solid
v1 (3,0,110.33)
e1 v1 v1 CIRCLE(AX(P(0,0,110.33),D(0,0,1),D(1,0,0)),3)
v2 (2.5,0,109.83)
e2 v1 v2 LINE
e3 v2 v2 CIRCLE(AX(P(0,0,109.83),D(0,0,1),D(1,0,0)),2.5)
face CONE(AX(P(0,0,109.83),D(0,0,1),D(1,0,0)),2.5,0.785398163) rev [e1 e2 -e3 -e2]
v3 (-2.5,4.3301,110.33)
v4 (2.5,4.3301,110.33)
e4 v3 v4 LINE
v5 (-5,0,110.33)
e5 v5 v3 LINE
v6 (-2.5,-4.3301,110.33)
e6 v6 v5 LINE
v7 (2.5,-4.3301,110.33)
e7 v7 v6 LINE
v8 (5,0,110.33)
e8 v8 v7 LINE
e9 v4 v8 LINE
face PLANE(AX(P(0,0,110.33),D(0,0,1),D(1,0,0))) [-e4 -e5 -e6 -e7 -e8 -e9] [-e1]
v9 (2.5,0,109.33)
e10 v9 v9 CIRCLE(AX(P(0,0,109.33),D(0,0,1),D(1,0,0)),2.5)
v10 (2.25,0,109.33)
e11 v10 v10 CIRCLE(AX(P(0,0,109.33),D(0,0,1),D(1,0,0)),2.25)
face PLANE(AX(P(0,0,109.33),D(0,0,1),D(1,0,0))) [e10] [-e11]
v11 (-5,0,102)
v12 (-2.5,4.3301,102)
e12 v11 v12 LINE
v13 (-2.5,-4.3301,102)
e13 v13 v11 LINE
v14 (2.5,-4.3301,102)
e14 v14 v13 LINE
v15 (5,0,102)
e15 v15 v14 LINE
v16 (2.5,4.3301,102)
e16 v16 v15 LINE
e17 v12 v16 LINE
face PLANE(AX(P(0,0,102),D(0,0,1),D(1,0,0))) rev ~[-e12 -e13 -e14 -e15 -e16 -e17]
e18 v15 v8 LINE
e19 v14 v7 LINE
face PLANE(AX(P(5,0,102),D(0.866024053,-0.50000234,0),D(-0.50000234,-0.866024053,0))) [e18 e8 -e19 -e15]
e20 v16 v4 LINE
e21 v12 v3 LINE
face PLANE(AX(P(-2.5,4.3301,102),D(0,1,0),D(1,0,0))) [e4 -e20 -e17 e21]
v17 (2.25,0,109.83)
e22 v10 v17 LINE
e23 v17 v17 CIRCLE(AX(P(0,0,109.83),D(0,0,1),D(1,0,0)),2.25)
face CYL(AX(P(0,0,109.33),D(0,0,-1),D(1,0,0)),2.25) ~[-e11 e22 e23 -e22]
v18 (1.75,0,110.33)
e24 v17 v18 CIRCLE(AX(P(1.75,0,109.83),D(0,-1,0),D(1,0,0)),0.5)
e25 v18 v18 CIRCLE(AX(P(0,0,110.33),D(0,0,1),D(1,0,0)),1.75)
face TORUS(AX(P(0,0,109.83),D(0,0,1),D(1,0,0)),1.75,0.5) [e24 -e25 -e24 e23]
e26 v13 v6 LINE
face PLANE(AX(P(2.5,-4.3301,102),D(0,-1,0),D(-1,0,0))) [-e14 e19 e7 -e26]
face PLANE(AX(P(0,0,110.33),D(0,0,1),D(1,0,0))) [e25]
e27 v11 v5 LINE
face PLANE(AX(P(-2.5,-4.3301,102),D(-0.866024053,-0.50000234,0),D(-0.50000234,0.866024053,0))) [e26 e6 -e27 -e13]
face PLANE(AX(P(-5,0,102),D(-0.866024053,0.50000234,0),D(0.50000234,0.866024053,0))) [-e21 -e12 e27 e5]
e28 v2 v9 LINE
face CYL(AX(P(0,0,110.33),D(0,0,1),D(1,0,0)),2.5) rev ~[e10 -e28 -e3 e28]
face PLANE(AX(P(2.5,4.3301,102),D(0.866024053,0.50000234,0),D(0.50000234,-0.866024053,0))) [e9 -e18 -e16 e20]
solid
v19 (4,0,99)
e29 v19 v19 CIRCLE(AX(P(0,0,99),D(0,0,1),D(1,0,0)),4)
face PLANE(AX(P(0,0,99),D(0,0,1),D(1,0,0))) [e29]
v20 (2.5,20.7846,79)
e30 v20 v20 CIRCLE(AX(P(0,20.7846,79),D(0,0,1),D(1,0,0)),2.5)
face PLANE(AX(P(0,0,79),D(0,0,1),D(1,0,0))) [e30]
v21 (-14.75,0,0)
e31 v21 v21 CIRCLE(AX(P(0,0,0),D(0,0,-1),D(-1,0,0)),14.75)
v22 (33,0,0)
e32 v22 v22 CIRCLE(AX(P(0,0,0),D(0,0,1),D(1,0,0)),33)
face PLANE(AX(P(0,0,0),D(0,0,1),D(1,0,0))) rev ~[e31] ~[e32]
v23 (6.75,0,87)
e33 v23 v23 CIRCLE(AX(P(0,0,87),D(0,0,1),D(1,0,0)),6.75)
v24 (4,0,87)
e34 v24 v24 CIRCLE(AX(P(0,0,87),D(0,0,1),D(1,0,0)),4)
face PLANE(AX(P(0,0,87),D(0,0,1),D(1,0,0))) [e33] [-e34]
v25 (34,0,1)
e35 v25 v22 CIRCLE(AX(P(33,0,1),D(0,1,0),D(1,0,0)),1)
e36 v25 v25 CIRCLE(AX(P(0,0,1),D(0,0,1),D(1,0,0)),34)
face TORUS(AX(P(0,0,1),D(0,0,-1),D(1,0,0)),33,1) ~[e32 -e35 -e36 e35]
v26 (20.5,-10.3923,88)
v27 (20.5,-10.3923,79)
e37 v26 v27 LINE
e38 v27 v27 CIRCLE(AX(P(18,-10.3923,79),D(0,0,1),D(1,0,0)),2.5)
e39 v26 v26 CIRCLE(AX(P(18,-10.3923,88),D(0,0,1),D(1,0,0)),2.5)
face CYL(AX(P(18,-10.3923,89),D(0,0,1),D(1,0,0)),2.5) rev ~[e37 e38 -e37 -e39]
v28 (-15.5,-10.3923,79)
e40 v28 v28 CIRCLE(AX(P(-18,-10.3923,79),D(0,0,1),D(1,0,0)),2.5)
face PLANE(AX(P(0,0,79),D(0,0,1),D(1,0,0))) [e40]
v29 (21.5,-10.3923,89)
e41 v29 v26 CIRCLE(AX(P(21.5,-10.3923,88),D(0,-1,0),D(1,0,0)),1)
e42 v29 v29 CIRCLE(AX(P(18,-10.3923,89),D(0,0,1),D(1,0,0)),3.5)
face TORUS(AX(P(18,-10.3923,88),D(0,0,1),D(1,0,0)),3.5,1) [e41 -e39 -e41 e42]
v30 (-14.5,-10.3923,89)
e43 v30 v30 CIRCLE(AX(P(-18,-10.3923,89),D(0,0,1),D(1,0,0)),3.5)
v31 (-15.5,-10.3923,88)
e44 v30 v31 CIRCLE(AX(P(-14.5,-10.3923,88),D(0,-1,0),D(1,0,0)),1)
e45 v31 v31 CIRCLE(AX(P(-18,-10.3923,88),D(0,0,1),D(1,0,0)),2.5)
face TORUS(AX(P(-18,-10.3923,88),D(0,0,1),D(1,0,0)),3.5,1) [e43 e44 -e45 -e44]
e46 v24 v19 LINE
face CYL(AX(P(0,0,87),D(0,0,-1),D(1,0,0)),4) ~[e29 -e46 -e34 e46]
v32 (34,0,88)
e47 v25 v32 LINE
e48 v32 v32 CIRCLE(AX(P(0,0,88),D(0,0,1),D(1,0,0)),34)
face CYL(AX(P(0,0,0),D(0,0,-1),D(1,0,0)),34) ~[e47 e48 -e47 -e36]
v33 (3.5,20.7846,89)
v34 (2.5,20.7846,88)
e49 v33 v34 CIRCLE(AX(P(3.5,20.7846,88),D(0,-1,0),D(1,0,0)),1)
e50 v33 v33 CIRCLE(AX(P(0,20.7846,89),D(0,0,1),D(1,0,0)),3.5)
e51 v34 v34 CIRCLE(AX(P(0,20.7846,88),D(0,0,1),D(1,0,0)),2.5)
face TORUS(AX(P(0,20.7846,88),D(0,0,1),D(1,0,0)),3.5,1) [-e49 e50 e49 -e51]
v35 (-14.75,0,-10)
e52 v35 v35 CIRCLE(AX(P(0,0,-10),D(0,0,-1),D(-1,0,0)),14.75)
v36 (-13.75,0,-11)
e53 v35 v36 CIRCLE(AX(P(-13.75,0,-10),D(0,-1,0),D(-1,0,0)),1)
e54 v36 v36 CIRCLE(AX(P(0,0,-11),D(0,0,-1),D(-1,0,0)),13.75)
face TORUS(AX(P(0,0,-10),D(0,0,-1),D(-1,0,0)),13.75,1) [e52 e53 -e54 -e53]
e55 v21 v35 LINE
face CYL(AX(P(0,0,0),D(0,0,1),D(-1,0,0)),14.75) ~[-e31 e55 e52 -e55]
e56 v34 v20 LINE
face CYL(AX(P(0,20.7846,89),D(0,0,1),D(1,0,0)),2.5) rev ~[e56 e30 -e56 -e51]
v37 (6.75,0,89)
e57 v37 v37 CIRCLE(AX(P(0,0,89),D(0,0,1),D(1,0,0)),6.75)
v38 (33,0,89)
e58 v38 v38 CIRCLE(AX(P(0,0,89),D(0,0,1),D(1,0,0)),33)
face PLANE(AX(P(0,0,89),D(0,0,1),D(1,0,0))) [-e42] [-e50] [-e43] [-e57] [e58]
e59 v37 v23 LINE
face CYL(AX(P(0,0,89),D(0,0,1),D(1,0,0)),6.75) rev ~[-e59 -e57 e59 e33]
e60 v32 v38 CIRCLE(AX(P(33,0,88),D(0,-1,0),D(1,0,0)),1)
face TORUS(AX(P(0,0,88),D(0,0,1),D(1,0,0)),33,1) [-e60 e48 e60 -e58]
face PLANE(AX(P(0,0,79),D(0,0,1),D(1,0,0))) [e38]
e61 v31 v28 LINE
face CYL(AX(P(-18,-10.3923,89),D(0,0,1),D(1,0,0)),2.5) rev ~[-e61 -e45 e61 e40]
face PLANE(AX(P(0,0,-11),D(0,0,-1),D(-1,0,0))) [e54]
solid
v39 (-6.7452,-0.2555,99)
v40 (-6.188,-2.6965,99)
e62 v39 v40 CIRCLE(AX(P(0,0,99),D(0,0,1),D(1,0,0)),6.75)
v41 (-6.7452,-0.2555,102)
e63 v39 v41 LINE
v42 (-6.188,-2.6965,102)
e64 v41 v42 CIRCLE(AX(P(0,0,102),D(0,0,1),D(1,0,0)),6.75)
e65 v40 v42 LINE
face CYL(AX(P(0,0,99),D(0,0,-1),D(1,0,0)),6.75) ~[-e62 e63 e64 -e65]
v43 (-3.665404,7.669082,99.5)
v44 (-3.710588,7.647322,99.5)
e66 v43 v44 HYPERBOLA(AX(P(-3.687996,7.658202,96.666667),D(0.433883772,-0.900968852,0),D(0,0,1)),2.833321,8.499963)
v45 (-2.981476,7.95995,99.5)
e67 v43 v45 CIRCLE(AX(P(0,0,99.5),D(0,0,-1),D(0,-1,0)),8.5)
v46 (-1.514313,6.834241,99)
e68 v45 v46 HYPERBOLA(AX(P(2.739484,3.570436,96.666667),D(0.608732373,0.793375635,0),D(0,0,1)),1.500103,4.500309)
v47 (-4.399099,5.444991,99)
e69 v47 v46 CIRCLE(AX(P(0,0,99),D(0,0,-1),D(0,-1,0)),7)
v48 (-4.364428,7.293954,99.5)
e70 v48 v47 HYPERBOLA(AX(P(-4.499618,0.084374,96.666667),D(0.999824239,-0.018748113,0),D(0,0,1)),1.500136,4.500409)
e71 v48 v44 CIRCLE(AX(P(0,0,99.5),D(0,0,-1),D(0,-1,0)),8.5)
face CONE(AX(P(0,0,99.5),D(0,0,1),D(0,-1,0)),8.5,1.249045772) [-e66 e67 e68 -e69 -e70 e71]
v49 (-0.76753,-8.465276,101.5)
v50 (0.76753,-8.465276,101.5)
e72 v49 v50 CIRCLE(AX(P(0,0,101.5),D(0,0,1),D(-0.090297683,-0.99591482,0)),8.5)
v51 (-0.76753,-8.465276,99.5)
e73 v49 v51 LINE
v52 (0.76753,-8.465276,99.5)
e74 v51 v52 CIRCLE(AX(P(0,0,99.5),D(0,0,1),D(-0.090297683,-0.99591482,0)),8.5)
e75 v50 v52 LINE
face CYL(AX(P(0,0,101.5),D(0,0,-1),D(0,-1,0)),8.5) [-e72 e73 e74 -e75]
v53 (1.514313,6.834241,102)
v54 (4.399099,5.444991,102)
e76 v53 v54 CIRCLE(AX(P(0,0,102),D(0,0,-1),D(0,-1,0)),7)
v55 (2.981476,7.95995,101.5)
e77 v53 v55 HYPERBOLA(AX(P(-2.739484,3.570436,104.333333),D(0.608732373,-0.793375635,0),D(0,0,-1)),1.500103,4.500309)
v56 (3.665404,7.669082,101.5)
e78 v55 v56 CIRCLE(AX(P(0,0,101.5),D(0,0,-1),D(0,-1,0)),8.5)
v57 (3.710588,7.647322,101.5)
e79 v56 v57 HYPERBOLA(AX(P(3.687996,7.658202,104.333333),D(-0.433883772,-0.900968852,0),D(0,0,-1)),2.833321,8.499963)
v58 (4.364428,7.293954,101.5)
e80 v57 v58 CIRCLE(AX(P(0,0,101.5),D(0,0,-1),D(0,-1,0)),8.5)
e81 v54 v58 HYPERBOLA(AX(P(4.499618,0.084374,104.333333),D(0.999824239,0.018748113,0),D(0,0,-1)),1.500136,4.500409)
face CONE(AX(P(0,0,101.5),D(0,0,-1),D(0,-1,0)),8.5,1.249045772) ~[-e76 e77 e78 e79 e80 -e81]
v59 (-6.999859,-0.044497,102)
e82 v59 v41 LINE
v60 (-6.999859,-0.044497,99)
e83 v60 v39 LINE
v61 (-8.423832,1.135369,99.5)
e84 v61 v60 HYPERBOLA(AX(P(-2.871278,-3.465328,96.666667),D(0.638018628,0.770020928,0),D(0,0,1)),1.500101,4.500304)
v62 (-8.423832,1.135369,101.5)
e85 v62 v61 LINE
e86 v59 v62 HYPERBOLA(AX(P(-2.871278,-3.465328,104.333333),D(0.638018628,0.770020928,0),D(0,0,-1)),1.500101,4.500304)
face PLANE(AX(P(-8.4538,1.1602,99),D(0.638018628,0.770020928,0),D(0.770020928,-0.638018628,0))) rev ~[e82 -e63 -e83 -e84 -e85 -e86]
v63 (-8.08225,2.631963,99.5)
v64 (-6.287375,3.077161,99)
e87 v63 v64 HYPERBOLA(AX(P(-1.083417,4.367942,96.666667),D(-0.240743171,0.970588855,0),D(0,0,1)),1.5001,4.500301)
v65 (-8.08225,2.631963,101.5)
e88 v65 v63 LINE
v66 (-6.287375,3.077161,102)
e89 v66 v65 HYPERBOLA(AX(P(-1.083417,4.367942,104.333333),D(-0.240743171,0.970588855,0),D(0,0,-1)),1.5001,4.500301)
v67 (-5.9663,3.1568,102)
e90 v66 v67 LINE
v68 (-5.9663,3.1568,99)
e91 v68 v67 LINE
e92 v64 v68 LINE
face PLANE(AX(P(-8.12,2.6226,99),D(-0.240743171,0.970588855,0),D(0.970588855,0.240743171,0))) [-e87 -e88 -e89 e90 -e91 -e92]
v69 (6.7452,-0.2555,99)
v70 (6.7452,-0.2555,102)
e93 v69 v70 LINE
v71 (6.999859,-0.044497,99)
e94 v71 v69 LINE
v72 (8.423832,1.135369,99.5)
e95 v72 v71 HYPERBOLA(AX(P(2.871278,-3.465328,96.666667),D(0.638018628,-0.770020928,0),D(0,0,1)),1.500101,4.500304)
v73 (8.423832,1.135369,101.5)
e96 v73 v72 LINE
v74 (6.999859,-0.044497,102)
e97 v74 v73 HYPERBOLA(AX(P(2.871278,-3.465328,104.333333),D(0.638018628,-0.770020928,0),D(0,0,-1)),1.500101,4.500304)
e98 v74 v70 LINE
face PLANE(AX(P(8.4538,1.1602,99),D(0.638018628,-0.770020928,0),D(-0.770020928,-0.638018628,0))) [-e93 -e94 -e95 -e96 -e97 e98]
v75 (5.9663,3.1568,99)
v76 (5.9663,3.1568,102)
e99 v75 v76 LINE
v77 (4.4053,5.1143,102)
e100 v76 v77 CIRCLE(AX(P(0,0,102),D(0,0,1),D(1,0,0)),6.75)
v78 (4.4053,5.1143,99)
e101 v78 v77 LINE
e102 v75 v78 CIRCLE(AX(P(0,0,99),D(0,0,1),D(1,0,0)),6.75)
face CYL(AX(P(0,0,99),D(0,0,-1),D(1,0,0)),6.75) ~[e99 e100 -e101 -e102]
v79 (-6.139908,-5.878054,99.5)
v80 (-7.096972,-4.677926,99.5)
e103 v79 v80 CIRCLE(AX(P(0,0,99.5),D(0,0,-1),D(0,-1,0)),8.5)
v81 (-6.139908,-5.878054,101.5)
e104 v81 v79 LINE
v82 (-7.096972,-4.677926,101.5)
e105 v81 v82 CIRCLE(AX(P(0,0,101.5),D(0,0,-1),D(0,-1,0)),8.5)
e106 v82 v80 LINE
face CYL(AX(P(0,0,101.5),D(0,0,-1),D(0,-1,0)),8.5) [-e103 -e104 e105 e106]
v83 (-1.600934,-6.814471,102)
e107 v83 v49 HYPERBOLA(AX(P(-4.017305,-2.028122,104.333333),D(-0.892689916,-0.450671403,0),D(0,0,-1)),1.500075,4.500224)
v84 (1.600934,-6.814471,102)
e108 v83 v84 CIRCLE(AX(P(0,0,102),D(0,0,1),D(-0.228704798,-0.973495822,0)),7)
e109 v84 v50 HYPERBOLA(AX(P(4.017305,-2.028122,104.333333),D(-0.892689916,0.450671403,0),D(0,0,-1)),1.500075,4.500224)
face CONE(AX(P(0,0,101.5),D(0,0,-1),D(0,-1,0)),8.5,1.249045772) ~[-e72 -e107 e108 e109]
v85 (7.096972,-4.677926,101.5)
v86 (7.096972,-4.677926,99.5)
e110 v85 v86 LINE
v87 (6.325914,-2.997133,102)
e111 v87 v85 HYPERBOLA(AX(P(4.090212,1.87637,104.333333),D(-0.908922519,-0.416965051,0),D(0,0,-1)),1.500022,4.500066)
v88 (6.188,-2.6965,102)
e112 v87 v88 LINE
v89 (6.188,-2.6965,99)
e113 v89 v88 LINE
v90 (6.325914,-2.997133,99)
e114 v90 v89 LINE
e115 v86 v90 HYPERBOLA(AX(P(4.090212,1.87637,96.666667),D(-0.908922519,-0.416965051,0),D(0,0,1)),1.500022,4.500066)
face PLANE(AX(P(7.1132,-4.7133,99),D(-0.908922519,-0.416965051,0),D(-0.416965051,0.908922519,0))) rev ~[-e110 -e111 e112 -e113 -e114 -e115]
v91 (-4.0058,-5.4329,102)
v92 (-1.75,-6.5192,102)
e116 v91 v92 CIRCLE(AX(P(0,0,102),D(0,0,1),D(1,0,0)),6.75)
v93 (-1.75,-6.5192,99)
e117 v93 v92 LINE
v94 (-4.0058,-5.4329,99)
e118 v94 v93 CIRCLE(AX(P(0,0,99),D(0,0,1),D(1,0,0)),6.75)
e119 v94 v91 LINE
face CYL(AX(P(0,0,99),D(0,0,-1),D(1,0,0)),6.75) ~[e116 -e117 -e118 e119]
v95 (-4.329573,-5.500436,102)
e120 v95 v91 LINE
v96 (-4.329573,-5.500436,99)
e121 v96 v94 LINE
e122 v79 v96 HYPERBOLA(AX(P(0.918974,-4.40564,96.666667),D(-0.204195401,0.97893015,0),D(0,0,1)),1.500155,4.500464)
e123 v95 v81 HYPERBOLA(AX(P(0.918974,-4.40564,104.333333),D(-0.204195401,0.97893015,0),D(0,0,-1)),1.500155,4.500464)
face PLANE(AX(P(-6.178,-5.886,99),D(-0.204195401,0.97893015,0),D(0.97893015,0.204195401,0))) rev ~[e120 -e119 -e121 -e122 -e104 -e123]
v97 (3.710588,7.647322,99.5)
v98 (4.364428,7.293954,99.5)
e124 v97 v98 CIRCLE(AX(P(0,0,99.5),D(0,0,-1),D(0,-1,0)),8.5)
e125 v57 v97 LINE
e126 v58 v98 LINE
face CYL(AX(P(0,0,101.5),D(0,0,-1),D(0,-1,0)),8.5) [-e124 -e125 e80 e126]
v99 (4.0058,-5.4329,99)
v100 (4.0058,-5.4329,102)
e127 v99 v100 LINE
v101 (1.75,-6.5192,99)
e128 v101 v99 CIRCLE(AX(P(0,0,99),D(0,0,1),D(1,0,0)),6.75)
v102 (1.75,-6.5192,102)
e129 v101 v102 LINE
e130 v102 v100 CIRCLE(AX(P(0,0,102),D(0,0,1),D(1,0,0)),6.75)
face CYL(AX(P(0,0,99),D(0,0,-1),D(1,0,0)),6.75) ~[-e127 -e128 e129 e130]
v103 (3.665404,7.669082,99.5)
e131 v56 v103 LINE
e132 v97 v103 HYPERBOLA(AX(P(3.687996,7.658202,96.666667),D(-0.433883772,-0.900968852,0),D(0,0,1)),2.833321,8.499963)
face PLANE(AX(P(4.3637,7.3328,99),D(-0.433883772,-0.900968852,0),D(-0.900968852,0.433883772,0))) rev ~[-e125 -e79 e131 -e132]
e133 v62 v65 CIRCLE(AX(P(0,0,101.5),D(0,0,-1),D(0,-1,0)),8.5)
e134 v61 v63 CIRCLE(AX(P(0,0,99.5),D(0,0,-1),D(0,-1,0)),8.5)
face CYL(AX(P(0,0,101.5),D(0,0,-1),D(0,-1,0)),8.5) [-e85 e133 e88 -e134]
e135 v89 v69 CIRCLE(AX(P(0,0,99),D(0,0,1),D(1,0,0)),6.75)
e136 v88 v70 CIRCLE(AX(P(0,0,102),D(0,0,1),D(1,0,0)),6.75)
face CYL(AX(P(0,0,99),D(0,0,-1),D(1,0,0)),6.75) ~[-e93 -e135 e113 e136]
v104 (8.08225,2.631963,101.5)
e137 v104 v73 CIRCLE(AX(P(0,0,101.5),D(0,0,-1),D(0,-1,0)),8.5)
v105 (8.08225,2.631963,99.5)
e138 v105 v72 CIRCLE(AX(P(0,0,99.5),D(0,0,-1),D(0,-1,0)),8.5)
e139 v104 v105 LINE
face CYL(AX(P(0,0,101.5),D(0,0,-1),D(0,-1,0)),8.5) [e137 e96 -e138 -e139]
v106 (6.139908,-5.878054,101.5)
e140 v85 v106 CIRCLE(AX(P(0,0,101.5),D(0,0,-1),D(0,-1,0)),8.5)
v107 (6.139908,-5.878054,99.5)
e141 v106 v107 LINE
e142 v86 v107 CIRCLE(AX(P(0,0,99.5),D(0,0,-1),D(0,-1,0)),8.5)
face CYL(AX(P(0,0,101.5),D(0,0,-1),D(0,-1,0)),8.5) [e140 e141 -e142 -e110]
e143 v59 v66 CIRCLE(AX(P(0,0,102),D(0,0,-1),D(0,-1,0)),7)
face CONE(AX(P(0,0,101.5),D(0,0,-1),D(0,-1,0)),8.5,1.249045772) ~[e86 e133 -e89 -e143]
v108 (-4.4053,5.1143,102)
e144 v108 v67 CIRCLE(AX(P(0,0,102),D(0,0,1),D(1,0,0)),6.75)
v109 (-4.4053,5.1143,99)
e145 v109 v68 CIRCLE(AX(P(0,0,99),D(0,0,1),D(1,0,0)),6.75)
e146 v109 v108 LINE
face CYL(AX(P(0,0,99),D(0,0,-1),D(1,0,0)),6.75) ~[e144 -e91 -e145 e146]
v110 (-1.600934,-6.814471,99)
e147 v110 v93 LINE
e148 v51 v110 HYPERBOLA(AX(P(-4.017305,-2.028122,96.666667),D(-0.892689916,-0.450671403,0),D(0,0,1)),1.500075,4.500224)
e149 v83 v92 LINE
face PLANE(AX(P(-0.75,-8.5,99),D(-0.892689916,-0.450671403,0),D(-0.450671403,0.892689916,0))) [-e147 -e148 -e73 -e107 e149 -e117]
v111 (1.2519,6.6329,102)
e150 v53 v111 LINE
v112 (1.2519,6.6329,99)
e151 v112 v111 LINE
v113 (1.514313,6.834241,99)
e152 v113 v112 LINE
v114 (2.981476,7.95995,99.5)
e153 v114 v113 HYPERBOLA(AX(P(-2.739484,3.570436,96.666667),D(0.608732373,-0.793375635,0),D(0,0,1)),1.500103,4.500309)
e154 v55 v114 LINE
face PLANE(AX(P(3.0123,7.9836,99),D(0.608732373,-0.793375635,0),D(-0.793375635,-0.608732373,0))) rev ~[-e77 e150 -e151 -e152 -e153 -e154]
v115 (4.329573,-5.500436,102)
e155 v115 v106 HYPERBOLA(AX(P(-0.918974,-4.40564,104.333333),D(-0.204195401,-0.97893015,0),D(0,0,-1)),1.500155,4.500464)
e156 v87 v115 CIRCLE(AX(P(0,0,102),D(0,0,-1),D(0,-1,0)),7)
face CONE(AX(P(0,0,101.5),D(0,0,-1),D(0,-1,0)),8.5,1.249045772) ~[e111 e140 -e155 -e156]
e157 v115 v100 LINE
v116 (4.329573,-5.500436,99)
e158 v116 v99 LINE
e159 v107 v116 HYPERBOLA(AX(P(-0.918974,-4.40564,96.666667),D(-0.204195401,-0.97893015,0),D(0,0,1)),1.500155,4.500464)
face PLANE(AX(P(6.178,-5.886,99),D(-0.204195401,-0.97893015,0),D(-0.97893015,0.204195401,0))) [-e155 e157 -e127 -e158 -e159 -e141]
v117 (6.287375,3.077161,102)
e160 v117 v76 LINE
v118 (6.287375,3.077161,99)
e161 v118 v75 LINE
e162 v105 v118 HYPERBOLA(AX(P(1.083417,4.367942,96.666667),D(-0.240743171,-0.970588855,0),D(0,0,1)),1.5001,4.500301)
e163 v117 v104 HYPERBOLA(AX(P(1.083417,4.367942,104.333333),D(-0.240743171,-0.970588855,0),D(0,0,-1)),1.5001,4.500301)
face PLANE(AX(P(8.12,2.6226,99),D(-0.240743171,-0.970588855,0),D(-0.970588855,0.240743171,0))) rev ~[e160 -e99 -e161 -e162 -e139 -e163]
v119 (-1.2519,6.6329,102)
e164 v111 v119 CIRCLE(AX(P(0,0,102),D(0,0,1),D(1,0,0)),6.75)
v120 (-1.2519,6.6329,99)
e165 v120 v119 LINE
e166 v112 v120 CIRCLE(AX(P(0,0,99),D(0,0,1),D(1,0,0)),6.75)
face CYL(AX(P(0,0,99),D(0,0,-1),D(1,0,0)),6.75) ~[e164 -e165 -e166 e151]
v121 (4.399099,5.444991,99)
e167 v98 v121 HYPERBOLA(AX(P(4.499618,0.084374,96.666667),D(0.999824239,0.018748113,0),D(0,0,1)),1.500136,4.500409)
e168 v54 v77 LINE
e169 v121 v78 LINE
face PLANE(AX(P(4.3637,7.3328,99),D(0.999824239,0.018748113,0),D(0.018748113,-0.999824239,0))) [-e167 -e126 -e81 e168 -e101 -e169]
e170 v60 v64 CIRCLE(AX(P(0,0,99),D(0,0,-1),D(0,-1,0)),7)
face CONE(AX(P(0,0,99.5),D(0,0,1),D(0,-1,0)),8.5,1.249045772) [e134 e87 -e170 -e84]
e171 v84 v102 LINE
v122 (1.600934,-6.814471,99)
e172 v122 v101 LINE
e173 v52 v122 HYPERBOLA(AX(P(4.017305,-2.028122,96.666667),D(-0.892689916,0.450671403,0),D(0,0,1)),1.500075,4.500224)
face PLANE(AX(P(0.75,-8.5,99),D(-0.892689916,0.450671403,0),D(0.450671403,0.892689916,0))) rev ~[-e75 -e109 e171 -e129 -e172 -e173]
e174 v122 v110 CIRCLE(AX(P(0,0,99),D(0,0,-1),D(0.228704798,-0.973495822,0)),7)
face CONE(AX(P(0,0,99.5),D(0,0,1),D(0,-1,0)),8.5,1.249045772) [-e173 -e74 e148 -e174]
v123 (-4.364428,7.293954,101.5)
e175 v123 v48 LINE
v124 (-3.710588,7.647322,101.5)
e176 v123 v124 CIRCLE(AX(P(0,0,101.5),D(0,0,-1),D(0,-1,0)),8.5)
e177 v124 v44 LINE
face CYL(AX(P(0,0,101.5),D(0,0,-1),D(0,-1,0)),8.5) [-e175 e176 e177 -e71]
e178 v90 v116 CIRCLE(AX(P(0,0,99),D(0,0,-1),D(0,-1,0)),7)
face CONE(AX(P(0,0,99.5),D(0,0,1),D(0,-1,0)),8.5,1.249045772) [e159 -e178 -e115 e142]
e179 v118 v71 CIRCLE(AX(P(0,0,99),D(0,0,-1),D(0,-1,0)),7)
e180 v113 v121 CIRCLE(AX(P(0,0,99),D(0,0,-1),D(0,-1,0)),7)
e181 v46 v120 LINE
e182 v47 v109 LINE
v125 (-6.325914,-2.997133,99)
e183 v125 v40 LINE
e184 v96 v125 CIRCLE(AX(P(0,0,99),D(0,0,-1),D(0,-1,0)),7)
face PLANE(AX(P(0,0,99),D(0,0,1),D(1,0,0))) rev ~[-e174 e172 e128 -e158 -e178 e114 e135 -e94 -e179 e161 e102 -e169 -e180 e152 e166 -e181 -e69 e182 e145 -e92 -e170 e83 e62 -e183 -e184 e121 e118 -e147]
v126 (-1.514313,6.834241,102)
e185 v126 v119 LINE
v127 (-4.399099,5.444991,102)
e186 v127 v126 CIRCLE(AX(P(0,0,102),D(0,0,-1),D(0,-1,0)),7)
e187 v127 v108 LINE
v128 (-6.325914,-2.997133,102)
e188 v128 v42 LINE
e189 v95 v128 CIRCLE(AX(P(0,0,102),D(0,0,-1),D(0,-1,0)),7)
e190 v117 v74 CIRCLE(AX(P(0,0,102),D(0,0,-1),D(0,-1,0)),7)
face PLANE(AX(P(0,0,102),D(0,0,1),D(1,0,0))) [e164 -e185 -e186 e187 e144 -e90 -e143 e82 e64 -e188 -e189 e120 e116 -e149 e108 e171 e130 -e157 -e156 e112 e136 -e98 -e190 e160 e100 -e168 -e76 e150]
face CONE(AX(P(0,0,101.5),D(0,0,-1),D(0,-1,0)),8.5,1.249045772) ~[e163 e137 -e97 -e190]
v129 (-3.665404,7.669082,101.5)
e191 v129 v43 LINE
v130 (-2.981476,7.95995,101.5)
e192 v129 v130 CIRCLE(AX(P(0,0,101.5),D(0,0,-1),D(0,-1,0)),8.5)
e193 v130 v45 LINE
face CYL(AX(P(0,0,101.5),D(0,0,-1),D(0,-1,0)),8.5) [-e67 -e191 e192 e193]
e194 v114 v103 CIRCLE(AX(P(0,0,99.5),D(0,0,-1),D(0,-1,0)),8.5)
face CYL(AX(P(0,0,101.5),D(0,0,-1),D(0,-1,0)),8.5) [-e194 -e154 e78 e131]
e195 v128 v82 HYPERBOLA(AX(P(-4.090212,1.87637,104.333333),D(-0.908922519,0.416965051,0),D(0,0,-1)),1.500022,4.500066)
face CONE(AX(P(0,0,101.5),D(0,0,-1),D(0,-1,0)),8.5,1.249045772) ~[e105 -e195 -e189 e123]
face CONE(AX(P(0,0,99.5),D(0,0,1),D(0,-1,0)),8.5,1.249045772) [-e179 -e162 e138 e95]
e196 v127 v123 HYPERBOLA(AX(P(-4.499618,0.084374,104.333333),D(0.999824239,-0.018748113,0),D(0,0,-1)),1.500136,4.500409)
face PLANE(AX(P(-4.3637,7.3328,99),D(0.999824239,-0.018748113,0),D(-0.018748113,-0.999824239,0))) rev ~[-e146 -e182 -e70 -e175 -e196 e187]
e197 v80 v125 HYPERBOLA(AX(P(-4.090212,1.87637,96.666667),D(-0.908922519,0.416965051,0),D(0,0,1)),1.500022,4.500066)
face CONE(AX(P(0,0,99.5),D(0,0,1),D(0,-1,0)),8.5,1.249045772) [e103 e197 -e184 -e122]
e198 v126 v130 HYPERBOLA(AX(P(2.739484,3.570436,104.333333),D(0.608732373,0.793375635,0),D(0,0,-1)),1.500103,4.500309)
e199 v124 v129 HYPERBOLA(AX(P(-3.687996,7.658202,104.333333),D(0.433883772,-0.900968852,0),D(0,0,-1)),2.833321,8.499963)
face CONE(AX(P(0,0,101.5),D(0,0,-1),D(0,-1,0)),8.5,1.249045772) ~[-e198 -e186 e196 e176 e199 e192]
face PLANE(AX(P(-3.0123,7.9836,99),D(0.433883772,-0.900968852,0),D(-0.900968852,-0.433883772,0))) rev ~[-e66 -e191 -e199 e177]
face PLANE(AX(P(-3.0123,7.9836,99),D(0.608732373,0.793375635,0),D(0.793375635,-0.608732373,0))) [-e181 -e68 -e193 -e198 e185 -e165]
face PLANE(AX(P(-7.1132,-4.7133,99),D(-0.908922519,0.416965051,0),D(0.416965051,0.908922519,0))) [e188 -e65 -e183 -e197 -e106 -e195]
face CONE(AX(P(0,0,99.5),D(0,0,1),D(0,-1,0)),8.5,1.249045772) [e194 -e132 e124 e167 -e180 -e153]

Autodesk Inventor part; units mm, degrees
sketch "Base" plane through (0, 0, 0) normal (0, 0, 1) x (1, 0, 0)
  circle A0 centre (0, 0) radius 34
  dimension "d0" = 68
extrude "BaseFeature" add sketch "Base" along normal blind 89
sketch "Sketch2" plane through (0, 0, 0) normal (0, 0, -1) x (-1, 0, 0)
  circle A0 centre (0, 0) radius 14.75
  dimension "d3" = 29.5
extrude "Extrusion2" add sketch "Sketch2" along normal blind 11
fillet "Fillet1" radius 1 3 edges at (14.75, 0, -11) (-34, 0, 0) (-34, 0, 89)
sketch "Sketch3" plane through (0, 0, 89) normal (0, 0, 1) x (1, 0, 0)
  circle A0 centre (0, 0) radius 34 projected
  circle A1 centre (0, 0) radius 6.75
  dimension "d7" = 13.5
extrude "Extrusion3" cut sketch "Sketch3" against normal blind 2 contours A1
sketch "Sketch4" plane through (0, 0, 87) normal (0, 0, 1) x (1, 0, 0)
  circle A0 centre (0, 0) radius 4
  dimension "d10" = 8
ref_plane "Work Plane1" through (0, 0, 99) normal (0, 0, 1) x (1, 0, 0)
extrude "Extrusion4" add sketch "Sketch4" along normal up to surface (12 mm away)
sketch "Sketch5" plane through (0, 0, 99) normal (0, 0, 1) x (1, 0, 0)
  circle A0 centre (0, 0) radius 33 construction
  circle A1 centre (0, 0) radius 8.5 construction
  circle A2 centre (0, 0) radius 4 construction
  line L0 (0, 0) -> (0, -8.5) construction
  line L1 (-0.75, -8.5) -> (0.75, -8.5)
  circle A3 centre (0, 0) radius 6.75 projected
  line L2 (-0.75, -8.5) -> (-1.75, -6.5192)
  line L3 (-47.6, 0) -> (47.6, 0) construction
  line L4 (0.75, -8.5) -> (1.75, -6.5192)
  line L5 (7.1132, -4.7133) -> (6.188, -2.6965)
  line L6 (6.178, -5.886) -> (4.0058, -5.4329)
  line L7 (6.178, -5.886) -> (7.1132, -4.7133)
  line L8 (8.12, 2.6226) -> (5.9663, 3.1568)
  line L9 (8.4538, 1.1602) -> (6.7452, -0.2555)
  line L10 (8.4538, 1.1602) -> (8.12, 2.6226)
  line L11 (3.0123, 7.9836) -> (1.2519, 6.6329)
  line L12 (4.3637, 7.3328) -> (4.4053, 5.1143)
  line L13 (4.3637, 7.3328) -> (3.0123, 7.9836)
  line L14 (-4.3637, 7.3328) -> (-4.4053, 5.1143)
  line L15 (-3.0123, 7.9836) -> (-1.2519, 6.6329)
  line L16 (-3.0123, 7.9836) -> (-4.3637, 7.3328)
  line L17 (-8.4538, 1.1602) -> (-6.7452, -0.2555)
  line L18 (-8.12, 2.6226) -> (-5.9663, 3.1568)
  line L19 (-8.12, 2.6226) -> (-8.4538, 1.1602)
  line L20 (-6.178, -5.886) -> (-4.0058, -5.4329)
  line L21 (-7.1132, -4.7133) -> (-6.188, -2.6965)
  line L22 (-7.1132, -4.7133) -> (-6.178, -5.886)
  point P0 (6.6456, -5.2997)
  point P1 (8.2869, 1.8914)
  point P2 (3.688, 7.6582)
  point P3 (-3.688, 7.6582)
  point P4 (-8.2869, 1.8914)
  point P5 (-6.6456, -5.2997)
  dimension "d14" = 17
  dimension "d23" = 1.5
  dimension "d24" = 3.5
  dimension "d27" = 360
extrude "Extrusion5" add sketch "Sketch5" along normal blind 3 separate body
sketch "Sketch6" plane through (0, 0, 102) normal (0, 0, 1) x (1, 0, 0)
  line L0 (-2.5, 4.3301) -> (2.5, 4.3301)
  line L1 (2.5, 4.3301) -> (5, 0)
  line L2 (5, 0) -> (2.5, -4.3301)
  line L3 (2.5, -4.3301) -> (-2.5, -4.3301)
  line L4 (-2.5, -4.3301) -> (-5, 0)
  line L5 (-5, 0) -> (-2.5, 4.3301)
  line L6 (-47.6, 0) -> (47.6, 0) construction
  point P0 (0, 0)
  point P1 (0, 0)
  point P2 (0, 0)
  dimension "d17" = 10
extrude "Extrusion6" add sketch "Sketch6" along normal blind 8.33 bodies 1
sketch "Sketch7" plane through (0, 0, 110.33) normal (0, 0, 1) x (1, 0, 0)
  circle A0 centre (0, 0) radius 2.5
  dimension "d29" = 5
extrude "Extrusion7" cut sketch "Sketch7" against normal blind 1 bodies 1
chamfer "Chamfer1" distance 0.5 angle 45 1 edges at (-2.5, 0, 110.33)
sketch "Sketch8" plane through (0, 0, 109.33) normal (0, 0, 1) x (1, 0, 0)
  circle A0 centre (0, 0) radius 2.25
  dimension "d36" = 4.5
extrude "Extrusion8" add sketch "Sketch8" along normal blind 1 bodies 1
fillet "Fillet3" radius 0.5 1 edges at (-2.25, 0, 110.33)
sketch "Sketch9" plane through (0, 0, 0) normal (1, 0, 0) x (0, 1, 0)
  line L0 (-8.5, 99) -> (-8.5, 102) construction
  line L1 (-8.5, 100.5) -> (7.9836, 100.5) construction
  line L2 (7.9836, 99) -> (7.9836, 102) construction
  line L3 (-8.5, 102) -> (7.9836, 102)
  line L4 (-8.5, 99) -> (7.9836, 99)
  line L5 (-8.5, 101.5) -> (-8.5, 99.5)
  line L6 (0, 102) -> (0, 110.33) projected
  line L7 (0, 102) -> (0, 99)
  line L8 (-8.5, 101.5) -> (-7, 102)
  line L9 (-7, 102) -> (-7, 100.5) construction
  line L10 (-8.5, 102) -> (-6.5192, 102) projected
  line L11 (-8.5, 99) -> (-8.5, 102) projected
  line L12 (-8.5, 99.5) -> (-7, 99)
  point P0 (0, 0)
  dimension "d40" = 2
  dimension "d41" = 1.5
revolve "Revolution1" add sketch "Sketch9" angle 360 about axis through (0, 0, 102) along (0, 0, -1) separate body contours L3 L7 L4 L12 L5 L8
combine bodies "Combine1" operation type common bodies to combine 2 3
sketch "Sketch10" plane through (0, 0, 89) normal (0, 0, 1) x (1, 0, 0)
  circle A0 centre (0, 0) radius 6.75 construction
  line L0 (0, -47.6) -> (0, 47.6) construction
  line L1 (0, 20.7846) -> (18, -10.3923) construction
  line L2 (18, -10.3923) -> (-18, -10.3923) construction
  line L3 (-18, -10.3923) -> (0, 20.7846) construction
  circle A1 centre (0, 20.7846) radius 2.5
  circle A2 centre (18, -10.3923) radius 2.5
  circle A3 centre (-18, -10.3923) radius 2.5
  dimension "d43" = 36
  dimension "d44" = 5
extrude "Extrusion9" cut sketch "Sketch10" against normal blind 10 bodies 1
fillet "Fillet4" radius 1 3 edges at (-2.5, 20.7846, 89) (-20.5, -10.3923, 89) (15.5, -10.3923, 89)
ref_plane "MidPlane" through (0, 0, 44.5) normal (0, 0, -1) x (-1, 0, 0)
ref_plane "SprocketMidPlane" through (0, 0, 100.5) normal (0, 0, 1) x (1, 0, 0)
properties part number "MY6812-12VDC-120W"
